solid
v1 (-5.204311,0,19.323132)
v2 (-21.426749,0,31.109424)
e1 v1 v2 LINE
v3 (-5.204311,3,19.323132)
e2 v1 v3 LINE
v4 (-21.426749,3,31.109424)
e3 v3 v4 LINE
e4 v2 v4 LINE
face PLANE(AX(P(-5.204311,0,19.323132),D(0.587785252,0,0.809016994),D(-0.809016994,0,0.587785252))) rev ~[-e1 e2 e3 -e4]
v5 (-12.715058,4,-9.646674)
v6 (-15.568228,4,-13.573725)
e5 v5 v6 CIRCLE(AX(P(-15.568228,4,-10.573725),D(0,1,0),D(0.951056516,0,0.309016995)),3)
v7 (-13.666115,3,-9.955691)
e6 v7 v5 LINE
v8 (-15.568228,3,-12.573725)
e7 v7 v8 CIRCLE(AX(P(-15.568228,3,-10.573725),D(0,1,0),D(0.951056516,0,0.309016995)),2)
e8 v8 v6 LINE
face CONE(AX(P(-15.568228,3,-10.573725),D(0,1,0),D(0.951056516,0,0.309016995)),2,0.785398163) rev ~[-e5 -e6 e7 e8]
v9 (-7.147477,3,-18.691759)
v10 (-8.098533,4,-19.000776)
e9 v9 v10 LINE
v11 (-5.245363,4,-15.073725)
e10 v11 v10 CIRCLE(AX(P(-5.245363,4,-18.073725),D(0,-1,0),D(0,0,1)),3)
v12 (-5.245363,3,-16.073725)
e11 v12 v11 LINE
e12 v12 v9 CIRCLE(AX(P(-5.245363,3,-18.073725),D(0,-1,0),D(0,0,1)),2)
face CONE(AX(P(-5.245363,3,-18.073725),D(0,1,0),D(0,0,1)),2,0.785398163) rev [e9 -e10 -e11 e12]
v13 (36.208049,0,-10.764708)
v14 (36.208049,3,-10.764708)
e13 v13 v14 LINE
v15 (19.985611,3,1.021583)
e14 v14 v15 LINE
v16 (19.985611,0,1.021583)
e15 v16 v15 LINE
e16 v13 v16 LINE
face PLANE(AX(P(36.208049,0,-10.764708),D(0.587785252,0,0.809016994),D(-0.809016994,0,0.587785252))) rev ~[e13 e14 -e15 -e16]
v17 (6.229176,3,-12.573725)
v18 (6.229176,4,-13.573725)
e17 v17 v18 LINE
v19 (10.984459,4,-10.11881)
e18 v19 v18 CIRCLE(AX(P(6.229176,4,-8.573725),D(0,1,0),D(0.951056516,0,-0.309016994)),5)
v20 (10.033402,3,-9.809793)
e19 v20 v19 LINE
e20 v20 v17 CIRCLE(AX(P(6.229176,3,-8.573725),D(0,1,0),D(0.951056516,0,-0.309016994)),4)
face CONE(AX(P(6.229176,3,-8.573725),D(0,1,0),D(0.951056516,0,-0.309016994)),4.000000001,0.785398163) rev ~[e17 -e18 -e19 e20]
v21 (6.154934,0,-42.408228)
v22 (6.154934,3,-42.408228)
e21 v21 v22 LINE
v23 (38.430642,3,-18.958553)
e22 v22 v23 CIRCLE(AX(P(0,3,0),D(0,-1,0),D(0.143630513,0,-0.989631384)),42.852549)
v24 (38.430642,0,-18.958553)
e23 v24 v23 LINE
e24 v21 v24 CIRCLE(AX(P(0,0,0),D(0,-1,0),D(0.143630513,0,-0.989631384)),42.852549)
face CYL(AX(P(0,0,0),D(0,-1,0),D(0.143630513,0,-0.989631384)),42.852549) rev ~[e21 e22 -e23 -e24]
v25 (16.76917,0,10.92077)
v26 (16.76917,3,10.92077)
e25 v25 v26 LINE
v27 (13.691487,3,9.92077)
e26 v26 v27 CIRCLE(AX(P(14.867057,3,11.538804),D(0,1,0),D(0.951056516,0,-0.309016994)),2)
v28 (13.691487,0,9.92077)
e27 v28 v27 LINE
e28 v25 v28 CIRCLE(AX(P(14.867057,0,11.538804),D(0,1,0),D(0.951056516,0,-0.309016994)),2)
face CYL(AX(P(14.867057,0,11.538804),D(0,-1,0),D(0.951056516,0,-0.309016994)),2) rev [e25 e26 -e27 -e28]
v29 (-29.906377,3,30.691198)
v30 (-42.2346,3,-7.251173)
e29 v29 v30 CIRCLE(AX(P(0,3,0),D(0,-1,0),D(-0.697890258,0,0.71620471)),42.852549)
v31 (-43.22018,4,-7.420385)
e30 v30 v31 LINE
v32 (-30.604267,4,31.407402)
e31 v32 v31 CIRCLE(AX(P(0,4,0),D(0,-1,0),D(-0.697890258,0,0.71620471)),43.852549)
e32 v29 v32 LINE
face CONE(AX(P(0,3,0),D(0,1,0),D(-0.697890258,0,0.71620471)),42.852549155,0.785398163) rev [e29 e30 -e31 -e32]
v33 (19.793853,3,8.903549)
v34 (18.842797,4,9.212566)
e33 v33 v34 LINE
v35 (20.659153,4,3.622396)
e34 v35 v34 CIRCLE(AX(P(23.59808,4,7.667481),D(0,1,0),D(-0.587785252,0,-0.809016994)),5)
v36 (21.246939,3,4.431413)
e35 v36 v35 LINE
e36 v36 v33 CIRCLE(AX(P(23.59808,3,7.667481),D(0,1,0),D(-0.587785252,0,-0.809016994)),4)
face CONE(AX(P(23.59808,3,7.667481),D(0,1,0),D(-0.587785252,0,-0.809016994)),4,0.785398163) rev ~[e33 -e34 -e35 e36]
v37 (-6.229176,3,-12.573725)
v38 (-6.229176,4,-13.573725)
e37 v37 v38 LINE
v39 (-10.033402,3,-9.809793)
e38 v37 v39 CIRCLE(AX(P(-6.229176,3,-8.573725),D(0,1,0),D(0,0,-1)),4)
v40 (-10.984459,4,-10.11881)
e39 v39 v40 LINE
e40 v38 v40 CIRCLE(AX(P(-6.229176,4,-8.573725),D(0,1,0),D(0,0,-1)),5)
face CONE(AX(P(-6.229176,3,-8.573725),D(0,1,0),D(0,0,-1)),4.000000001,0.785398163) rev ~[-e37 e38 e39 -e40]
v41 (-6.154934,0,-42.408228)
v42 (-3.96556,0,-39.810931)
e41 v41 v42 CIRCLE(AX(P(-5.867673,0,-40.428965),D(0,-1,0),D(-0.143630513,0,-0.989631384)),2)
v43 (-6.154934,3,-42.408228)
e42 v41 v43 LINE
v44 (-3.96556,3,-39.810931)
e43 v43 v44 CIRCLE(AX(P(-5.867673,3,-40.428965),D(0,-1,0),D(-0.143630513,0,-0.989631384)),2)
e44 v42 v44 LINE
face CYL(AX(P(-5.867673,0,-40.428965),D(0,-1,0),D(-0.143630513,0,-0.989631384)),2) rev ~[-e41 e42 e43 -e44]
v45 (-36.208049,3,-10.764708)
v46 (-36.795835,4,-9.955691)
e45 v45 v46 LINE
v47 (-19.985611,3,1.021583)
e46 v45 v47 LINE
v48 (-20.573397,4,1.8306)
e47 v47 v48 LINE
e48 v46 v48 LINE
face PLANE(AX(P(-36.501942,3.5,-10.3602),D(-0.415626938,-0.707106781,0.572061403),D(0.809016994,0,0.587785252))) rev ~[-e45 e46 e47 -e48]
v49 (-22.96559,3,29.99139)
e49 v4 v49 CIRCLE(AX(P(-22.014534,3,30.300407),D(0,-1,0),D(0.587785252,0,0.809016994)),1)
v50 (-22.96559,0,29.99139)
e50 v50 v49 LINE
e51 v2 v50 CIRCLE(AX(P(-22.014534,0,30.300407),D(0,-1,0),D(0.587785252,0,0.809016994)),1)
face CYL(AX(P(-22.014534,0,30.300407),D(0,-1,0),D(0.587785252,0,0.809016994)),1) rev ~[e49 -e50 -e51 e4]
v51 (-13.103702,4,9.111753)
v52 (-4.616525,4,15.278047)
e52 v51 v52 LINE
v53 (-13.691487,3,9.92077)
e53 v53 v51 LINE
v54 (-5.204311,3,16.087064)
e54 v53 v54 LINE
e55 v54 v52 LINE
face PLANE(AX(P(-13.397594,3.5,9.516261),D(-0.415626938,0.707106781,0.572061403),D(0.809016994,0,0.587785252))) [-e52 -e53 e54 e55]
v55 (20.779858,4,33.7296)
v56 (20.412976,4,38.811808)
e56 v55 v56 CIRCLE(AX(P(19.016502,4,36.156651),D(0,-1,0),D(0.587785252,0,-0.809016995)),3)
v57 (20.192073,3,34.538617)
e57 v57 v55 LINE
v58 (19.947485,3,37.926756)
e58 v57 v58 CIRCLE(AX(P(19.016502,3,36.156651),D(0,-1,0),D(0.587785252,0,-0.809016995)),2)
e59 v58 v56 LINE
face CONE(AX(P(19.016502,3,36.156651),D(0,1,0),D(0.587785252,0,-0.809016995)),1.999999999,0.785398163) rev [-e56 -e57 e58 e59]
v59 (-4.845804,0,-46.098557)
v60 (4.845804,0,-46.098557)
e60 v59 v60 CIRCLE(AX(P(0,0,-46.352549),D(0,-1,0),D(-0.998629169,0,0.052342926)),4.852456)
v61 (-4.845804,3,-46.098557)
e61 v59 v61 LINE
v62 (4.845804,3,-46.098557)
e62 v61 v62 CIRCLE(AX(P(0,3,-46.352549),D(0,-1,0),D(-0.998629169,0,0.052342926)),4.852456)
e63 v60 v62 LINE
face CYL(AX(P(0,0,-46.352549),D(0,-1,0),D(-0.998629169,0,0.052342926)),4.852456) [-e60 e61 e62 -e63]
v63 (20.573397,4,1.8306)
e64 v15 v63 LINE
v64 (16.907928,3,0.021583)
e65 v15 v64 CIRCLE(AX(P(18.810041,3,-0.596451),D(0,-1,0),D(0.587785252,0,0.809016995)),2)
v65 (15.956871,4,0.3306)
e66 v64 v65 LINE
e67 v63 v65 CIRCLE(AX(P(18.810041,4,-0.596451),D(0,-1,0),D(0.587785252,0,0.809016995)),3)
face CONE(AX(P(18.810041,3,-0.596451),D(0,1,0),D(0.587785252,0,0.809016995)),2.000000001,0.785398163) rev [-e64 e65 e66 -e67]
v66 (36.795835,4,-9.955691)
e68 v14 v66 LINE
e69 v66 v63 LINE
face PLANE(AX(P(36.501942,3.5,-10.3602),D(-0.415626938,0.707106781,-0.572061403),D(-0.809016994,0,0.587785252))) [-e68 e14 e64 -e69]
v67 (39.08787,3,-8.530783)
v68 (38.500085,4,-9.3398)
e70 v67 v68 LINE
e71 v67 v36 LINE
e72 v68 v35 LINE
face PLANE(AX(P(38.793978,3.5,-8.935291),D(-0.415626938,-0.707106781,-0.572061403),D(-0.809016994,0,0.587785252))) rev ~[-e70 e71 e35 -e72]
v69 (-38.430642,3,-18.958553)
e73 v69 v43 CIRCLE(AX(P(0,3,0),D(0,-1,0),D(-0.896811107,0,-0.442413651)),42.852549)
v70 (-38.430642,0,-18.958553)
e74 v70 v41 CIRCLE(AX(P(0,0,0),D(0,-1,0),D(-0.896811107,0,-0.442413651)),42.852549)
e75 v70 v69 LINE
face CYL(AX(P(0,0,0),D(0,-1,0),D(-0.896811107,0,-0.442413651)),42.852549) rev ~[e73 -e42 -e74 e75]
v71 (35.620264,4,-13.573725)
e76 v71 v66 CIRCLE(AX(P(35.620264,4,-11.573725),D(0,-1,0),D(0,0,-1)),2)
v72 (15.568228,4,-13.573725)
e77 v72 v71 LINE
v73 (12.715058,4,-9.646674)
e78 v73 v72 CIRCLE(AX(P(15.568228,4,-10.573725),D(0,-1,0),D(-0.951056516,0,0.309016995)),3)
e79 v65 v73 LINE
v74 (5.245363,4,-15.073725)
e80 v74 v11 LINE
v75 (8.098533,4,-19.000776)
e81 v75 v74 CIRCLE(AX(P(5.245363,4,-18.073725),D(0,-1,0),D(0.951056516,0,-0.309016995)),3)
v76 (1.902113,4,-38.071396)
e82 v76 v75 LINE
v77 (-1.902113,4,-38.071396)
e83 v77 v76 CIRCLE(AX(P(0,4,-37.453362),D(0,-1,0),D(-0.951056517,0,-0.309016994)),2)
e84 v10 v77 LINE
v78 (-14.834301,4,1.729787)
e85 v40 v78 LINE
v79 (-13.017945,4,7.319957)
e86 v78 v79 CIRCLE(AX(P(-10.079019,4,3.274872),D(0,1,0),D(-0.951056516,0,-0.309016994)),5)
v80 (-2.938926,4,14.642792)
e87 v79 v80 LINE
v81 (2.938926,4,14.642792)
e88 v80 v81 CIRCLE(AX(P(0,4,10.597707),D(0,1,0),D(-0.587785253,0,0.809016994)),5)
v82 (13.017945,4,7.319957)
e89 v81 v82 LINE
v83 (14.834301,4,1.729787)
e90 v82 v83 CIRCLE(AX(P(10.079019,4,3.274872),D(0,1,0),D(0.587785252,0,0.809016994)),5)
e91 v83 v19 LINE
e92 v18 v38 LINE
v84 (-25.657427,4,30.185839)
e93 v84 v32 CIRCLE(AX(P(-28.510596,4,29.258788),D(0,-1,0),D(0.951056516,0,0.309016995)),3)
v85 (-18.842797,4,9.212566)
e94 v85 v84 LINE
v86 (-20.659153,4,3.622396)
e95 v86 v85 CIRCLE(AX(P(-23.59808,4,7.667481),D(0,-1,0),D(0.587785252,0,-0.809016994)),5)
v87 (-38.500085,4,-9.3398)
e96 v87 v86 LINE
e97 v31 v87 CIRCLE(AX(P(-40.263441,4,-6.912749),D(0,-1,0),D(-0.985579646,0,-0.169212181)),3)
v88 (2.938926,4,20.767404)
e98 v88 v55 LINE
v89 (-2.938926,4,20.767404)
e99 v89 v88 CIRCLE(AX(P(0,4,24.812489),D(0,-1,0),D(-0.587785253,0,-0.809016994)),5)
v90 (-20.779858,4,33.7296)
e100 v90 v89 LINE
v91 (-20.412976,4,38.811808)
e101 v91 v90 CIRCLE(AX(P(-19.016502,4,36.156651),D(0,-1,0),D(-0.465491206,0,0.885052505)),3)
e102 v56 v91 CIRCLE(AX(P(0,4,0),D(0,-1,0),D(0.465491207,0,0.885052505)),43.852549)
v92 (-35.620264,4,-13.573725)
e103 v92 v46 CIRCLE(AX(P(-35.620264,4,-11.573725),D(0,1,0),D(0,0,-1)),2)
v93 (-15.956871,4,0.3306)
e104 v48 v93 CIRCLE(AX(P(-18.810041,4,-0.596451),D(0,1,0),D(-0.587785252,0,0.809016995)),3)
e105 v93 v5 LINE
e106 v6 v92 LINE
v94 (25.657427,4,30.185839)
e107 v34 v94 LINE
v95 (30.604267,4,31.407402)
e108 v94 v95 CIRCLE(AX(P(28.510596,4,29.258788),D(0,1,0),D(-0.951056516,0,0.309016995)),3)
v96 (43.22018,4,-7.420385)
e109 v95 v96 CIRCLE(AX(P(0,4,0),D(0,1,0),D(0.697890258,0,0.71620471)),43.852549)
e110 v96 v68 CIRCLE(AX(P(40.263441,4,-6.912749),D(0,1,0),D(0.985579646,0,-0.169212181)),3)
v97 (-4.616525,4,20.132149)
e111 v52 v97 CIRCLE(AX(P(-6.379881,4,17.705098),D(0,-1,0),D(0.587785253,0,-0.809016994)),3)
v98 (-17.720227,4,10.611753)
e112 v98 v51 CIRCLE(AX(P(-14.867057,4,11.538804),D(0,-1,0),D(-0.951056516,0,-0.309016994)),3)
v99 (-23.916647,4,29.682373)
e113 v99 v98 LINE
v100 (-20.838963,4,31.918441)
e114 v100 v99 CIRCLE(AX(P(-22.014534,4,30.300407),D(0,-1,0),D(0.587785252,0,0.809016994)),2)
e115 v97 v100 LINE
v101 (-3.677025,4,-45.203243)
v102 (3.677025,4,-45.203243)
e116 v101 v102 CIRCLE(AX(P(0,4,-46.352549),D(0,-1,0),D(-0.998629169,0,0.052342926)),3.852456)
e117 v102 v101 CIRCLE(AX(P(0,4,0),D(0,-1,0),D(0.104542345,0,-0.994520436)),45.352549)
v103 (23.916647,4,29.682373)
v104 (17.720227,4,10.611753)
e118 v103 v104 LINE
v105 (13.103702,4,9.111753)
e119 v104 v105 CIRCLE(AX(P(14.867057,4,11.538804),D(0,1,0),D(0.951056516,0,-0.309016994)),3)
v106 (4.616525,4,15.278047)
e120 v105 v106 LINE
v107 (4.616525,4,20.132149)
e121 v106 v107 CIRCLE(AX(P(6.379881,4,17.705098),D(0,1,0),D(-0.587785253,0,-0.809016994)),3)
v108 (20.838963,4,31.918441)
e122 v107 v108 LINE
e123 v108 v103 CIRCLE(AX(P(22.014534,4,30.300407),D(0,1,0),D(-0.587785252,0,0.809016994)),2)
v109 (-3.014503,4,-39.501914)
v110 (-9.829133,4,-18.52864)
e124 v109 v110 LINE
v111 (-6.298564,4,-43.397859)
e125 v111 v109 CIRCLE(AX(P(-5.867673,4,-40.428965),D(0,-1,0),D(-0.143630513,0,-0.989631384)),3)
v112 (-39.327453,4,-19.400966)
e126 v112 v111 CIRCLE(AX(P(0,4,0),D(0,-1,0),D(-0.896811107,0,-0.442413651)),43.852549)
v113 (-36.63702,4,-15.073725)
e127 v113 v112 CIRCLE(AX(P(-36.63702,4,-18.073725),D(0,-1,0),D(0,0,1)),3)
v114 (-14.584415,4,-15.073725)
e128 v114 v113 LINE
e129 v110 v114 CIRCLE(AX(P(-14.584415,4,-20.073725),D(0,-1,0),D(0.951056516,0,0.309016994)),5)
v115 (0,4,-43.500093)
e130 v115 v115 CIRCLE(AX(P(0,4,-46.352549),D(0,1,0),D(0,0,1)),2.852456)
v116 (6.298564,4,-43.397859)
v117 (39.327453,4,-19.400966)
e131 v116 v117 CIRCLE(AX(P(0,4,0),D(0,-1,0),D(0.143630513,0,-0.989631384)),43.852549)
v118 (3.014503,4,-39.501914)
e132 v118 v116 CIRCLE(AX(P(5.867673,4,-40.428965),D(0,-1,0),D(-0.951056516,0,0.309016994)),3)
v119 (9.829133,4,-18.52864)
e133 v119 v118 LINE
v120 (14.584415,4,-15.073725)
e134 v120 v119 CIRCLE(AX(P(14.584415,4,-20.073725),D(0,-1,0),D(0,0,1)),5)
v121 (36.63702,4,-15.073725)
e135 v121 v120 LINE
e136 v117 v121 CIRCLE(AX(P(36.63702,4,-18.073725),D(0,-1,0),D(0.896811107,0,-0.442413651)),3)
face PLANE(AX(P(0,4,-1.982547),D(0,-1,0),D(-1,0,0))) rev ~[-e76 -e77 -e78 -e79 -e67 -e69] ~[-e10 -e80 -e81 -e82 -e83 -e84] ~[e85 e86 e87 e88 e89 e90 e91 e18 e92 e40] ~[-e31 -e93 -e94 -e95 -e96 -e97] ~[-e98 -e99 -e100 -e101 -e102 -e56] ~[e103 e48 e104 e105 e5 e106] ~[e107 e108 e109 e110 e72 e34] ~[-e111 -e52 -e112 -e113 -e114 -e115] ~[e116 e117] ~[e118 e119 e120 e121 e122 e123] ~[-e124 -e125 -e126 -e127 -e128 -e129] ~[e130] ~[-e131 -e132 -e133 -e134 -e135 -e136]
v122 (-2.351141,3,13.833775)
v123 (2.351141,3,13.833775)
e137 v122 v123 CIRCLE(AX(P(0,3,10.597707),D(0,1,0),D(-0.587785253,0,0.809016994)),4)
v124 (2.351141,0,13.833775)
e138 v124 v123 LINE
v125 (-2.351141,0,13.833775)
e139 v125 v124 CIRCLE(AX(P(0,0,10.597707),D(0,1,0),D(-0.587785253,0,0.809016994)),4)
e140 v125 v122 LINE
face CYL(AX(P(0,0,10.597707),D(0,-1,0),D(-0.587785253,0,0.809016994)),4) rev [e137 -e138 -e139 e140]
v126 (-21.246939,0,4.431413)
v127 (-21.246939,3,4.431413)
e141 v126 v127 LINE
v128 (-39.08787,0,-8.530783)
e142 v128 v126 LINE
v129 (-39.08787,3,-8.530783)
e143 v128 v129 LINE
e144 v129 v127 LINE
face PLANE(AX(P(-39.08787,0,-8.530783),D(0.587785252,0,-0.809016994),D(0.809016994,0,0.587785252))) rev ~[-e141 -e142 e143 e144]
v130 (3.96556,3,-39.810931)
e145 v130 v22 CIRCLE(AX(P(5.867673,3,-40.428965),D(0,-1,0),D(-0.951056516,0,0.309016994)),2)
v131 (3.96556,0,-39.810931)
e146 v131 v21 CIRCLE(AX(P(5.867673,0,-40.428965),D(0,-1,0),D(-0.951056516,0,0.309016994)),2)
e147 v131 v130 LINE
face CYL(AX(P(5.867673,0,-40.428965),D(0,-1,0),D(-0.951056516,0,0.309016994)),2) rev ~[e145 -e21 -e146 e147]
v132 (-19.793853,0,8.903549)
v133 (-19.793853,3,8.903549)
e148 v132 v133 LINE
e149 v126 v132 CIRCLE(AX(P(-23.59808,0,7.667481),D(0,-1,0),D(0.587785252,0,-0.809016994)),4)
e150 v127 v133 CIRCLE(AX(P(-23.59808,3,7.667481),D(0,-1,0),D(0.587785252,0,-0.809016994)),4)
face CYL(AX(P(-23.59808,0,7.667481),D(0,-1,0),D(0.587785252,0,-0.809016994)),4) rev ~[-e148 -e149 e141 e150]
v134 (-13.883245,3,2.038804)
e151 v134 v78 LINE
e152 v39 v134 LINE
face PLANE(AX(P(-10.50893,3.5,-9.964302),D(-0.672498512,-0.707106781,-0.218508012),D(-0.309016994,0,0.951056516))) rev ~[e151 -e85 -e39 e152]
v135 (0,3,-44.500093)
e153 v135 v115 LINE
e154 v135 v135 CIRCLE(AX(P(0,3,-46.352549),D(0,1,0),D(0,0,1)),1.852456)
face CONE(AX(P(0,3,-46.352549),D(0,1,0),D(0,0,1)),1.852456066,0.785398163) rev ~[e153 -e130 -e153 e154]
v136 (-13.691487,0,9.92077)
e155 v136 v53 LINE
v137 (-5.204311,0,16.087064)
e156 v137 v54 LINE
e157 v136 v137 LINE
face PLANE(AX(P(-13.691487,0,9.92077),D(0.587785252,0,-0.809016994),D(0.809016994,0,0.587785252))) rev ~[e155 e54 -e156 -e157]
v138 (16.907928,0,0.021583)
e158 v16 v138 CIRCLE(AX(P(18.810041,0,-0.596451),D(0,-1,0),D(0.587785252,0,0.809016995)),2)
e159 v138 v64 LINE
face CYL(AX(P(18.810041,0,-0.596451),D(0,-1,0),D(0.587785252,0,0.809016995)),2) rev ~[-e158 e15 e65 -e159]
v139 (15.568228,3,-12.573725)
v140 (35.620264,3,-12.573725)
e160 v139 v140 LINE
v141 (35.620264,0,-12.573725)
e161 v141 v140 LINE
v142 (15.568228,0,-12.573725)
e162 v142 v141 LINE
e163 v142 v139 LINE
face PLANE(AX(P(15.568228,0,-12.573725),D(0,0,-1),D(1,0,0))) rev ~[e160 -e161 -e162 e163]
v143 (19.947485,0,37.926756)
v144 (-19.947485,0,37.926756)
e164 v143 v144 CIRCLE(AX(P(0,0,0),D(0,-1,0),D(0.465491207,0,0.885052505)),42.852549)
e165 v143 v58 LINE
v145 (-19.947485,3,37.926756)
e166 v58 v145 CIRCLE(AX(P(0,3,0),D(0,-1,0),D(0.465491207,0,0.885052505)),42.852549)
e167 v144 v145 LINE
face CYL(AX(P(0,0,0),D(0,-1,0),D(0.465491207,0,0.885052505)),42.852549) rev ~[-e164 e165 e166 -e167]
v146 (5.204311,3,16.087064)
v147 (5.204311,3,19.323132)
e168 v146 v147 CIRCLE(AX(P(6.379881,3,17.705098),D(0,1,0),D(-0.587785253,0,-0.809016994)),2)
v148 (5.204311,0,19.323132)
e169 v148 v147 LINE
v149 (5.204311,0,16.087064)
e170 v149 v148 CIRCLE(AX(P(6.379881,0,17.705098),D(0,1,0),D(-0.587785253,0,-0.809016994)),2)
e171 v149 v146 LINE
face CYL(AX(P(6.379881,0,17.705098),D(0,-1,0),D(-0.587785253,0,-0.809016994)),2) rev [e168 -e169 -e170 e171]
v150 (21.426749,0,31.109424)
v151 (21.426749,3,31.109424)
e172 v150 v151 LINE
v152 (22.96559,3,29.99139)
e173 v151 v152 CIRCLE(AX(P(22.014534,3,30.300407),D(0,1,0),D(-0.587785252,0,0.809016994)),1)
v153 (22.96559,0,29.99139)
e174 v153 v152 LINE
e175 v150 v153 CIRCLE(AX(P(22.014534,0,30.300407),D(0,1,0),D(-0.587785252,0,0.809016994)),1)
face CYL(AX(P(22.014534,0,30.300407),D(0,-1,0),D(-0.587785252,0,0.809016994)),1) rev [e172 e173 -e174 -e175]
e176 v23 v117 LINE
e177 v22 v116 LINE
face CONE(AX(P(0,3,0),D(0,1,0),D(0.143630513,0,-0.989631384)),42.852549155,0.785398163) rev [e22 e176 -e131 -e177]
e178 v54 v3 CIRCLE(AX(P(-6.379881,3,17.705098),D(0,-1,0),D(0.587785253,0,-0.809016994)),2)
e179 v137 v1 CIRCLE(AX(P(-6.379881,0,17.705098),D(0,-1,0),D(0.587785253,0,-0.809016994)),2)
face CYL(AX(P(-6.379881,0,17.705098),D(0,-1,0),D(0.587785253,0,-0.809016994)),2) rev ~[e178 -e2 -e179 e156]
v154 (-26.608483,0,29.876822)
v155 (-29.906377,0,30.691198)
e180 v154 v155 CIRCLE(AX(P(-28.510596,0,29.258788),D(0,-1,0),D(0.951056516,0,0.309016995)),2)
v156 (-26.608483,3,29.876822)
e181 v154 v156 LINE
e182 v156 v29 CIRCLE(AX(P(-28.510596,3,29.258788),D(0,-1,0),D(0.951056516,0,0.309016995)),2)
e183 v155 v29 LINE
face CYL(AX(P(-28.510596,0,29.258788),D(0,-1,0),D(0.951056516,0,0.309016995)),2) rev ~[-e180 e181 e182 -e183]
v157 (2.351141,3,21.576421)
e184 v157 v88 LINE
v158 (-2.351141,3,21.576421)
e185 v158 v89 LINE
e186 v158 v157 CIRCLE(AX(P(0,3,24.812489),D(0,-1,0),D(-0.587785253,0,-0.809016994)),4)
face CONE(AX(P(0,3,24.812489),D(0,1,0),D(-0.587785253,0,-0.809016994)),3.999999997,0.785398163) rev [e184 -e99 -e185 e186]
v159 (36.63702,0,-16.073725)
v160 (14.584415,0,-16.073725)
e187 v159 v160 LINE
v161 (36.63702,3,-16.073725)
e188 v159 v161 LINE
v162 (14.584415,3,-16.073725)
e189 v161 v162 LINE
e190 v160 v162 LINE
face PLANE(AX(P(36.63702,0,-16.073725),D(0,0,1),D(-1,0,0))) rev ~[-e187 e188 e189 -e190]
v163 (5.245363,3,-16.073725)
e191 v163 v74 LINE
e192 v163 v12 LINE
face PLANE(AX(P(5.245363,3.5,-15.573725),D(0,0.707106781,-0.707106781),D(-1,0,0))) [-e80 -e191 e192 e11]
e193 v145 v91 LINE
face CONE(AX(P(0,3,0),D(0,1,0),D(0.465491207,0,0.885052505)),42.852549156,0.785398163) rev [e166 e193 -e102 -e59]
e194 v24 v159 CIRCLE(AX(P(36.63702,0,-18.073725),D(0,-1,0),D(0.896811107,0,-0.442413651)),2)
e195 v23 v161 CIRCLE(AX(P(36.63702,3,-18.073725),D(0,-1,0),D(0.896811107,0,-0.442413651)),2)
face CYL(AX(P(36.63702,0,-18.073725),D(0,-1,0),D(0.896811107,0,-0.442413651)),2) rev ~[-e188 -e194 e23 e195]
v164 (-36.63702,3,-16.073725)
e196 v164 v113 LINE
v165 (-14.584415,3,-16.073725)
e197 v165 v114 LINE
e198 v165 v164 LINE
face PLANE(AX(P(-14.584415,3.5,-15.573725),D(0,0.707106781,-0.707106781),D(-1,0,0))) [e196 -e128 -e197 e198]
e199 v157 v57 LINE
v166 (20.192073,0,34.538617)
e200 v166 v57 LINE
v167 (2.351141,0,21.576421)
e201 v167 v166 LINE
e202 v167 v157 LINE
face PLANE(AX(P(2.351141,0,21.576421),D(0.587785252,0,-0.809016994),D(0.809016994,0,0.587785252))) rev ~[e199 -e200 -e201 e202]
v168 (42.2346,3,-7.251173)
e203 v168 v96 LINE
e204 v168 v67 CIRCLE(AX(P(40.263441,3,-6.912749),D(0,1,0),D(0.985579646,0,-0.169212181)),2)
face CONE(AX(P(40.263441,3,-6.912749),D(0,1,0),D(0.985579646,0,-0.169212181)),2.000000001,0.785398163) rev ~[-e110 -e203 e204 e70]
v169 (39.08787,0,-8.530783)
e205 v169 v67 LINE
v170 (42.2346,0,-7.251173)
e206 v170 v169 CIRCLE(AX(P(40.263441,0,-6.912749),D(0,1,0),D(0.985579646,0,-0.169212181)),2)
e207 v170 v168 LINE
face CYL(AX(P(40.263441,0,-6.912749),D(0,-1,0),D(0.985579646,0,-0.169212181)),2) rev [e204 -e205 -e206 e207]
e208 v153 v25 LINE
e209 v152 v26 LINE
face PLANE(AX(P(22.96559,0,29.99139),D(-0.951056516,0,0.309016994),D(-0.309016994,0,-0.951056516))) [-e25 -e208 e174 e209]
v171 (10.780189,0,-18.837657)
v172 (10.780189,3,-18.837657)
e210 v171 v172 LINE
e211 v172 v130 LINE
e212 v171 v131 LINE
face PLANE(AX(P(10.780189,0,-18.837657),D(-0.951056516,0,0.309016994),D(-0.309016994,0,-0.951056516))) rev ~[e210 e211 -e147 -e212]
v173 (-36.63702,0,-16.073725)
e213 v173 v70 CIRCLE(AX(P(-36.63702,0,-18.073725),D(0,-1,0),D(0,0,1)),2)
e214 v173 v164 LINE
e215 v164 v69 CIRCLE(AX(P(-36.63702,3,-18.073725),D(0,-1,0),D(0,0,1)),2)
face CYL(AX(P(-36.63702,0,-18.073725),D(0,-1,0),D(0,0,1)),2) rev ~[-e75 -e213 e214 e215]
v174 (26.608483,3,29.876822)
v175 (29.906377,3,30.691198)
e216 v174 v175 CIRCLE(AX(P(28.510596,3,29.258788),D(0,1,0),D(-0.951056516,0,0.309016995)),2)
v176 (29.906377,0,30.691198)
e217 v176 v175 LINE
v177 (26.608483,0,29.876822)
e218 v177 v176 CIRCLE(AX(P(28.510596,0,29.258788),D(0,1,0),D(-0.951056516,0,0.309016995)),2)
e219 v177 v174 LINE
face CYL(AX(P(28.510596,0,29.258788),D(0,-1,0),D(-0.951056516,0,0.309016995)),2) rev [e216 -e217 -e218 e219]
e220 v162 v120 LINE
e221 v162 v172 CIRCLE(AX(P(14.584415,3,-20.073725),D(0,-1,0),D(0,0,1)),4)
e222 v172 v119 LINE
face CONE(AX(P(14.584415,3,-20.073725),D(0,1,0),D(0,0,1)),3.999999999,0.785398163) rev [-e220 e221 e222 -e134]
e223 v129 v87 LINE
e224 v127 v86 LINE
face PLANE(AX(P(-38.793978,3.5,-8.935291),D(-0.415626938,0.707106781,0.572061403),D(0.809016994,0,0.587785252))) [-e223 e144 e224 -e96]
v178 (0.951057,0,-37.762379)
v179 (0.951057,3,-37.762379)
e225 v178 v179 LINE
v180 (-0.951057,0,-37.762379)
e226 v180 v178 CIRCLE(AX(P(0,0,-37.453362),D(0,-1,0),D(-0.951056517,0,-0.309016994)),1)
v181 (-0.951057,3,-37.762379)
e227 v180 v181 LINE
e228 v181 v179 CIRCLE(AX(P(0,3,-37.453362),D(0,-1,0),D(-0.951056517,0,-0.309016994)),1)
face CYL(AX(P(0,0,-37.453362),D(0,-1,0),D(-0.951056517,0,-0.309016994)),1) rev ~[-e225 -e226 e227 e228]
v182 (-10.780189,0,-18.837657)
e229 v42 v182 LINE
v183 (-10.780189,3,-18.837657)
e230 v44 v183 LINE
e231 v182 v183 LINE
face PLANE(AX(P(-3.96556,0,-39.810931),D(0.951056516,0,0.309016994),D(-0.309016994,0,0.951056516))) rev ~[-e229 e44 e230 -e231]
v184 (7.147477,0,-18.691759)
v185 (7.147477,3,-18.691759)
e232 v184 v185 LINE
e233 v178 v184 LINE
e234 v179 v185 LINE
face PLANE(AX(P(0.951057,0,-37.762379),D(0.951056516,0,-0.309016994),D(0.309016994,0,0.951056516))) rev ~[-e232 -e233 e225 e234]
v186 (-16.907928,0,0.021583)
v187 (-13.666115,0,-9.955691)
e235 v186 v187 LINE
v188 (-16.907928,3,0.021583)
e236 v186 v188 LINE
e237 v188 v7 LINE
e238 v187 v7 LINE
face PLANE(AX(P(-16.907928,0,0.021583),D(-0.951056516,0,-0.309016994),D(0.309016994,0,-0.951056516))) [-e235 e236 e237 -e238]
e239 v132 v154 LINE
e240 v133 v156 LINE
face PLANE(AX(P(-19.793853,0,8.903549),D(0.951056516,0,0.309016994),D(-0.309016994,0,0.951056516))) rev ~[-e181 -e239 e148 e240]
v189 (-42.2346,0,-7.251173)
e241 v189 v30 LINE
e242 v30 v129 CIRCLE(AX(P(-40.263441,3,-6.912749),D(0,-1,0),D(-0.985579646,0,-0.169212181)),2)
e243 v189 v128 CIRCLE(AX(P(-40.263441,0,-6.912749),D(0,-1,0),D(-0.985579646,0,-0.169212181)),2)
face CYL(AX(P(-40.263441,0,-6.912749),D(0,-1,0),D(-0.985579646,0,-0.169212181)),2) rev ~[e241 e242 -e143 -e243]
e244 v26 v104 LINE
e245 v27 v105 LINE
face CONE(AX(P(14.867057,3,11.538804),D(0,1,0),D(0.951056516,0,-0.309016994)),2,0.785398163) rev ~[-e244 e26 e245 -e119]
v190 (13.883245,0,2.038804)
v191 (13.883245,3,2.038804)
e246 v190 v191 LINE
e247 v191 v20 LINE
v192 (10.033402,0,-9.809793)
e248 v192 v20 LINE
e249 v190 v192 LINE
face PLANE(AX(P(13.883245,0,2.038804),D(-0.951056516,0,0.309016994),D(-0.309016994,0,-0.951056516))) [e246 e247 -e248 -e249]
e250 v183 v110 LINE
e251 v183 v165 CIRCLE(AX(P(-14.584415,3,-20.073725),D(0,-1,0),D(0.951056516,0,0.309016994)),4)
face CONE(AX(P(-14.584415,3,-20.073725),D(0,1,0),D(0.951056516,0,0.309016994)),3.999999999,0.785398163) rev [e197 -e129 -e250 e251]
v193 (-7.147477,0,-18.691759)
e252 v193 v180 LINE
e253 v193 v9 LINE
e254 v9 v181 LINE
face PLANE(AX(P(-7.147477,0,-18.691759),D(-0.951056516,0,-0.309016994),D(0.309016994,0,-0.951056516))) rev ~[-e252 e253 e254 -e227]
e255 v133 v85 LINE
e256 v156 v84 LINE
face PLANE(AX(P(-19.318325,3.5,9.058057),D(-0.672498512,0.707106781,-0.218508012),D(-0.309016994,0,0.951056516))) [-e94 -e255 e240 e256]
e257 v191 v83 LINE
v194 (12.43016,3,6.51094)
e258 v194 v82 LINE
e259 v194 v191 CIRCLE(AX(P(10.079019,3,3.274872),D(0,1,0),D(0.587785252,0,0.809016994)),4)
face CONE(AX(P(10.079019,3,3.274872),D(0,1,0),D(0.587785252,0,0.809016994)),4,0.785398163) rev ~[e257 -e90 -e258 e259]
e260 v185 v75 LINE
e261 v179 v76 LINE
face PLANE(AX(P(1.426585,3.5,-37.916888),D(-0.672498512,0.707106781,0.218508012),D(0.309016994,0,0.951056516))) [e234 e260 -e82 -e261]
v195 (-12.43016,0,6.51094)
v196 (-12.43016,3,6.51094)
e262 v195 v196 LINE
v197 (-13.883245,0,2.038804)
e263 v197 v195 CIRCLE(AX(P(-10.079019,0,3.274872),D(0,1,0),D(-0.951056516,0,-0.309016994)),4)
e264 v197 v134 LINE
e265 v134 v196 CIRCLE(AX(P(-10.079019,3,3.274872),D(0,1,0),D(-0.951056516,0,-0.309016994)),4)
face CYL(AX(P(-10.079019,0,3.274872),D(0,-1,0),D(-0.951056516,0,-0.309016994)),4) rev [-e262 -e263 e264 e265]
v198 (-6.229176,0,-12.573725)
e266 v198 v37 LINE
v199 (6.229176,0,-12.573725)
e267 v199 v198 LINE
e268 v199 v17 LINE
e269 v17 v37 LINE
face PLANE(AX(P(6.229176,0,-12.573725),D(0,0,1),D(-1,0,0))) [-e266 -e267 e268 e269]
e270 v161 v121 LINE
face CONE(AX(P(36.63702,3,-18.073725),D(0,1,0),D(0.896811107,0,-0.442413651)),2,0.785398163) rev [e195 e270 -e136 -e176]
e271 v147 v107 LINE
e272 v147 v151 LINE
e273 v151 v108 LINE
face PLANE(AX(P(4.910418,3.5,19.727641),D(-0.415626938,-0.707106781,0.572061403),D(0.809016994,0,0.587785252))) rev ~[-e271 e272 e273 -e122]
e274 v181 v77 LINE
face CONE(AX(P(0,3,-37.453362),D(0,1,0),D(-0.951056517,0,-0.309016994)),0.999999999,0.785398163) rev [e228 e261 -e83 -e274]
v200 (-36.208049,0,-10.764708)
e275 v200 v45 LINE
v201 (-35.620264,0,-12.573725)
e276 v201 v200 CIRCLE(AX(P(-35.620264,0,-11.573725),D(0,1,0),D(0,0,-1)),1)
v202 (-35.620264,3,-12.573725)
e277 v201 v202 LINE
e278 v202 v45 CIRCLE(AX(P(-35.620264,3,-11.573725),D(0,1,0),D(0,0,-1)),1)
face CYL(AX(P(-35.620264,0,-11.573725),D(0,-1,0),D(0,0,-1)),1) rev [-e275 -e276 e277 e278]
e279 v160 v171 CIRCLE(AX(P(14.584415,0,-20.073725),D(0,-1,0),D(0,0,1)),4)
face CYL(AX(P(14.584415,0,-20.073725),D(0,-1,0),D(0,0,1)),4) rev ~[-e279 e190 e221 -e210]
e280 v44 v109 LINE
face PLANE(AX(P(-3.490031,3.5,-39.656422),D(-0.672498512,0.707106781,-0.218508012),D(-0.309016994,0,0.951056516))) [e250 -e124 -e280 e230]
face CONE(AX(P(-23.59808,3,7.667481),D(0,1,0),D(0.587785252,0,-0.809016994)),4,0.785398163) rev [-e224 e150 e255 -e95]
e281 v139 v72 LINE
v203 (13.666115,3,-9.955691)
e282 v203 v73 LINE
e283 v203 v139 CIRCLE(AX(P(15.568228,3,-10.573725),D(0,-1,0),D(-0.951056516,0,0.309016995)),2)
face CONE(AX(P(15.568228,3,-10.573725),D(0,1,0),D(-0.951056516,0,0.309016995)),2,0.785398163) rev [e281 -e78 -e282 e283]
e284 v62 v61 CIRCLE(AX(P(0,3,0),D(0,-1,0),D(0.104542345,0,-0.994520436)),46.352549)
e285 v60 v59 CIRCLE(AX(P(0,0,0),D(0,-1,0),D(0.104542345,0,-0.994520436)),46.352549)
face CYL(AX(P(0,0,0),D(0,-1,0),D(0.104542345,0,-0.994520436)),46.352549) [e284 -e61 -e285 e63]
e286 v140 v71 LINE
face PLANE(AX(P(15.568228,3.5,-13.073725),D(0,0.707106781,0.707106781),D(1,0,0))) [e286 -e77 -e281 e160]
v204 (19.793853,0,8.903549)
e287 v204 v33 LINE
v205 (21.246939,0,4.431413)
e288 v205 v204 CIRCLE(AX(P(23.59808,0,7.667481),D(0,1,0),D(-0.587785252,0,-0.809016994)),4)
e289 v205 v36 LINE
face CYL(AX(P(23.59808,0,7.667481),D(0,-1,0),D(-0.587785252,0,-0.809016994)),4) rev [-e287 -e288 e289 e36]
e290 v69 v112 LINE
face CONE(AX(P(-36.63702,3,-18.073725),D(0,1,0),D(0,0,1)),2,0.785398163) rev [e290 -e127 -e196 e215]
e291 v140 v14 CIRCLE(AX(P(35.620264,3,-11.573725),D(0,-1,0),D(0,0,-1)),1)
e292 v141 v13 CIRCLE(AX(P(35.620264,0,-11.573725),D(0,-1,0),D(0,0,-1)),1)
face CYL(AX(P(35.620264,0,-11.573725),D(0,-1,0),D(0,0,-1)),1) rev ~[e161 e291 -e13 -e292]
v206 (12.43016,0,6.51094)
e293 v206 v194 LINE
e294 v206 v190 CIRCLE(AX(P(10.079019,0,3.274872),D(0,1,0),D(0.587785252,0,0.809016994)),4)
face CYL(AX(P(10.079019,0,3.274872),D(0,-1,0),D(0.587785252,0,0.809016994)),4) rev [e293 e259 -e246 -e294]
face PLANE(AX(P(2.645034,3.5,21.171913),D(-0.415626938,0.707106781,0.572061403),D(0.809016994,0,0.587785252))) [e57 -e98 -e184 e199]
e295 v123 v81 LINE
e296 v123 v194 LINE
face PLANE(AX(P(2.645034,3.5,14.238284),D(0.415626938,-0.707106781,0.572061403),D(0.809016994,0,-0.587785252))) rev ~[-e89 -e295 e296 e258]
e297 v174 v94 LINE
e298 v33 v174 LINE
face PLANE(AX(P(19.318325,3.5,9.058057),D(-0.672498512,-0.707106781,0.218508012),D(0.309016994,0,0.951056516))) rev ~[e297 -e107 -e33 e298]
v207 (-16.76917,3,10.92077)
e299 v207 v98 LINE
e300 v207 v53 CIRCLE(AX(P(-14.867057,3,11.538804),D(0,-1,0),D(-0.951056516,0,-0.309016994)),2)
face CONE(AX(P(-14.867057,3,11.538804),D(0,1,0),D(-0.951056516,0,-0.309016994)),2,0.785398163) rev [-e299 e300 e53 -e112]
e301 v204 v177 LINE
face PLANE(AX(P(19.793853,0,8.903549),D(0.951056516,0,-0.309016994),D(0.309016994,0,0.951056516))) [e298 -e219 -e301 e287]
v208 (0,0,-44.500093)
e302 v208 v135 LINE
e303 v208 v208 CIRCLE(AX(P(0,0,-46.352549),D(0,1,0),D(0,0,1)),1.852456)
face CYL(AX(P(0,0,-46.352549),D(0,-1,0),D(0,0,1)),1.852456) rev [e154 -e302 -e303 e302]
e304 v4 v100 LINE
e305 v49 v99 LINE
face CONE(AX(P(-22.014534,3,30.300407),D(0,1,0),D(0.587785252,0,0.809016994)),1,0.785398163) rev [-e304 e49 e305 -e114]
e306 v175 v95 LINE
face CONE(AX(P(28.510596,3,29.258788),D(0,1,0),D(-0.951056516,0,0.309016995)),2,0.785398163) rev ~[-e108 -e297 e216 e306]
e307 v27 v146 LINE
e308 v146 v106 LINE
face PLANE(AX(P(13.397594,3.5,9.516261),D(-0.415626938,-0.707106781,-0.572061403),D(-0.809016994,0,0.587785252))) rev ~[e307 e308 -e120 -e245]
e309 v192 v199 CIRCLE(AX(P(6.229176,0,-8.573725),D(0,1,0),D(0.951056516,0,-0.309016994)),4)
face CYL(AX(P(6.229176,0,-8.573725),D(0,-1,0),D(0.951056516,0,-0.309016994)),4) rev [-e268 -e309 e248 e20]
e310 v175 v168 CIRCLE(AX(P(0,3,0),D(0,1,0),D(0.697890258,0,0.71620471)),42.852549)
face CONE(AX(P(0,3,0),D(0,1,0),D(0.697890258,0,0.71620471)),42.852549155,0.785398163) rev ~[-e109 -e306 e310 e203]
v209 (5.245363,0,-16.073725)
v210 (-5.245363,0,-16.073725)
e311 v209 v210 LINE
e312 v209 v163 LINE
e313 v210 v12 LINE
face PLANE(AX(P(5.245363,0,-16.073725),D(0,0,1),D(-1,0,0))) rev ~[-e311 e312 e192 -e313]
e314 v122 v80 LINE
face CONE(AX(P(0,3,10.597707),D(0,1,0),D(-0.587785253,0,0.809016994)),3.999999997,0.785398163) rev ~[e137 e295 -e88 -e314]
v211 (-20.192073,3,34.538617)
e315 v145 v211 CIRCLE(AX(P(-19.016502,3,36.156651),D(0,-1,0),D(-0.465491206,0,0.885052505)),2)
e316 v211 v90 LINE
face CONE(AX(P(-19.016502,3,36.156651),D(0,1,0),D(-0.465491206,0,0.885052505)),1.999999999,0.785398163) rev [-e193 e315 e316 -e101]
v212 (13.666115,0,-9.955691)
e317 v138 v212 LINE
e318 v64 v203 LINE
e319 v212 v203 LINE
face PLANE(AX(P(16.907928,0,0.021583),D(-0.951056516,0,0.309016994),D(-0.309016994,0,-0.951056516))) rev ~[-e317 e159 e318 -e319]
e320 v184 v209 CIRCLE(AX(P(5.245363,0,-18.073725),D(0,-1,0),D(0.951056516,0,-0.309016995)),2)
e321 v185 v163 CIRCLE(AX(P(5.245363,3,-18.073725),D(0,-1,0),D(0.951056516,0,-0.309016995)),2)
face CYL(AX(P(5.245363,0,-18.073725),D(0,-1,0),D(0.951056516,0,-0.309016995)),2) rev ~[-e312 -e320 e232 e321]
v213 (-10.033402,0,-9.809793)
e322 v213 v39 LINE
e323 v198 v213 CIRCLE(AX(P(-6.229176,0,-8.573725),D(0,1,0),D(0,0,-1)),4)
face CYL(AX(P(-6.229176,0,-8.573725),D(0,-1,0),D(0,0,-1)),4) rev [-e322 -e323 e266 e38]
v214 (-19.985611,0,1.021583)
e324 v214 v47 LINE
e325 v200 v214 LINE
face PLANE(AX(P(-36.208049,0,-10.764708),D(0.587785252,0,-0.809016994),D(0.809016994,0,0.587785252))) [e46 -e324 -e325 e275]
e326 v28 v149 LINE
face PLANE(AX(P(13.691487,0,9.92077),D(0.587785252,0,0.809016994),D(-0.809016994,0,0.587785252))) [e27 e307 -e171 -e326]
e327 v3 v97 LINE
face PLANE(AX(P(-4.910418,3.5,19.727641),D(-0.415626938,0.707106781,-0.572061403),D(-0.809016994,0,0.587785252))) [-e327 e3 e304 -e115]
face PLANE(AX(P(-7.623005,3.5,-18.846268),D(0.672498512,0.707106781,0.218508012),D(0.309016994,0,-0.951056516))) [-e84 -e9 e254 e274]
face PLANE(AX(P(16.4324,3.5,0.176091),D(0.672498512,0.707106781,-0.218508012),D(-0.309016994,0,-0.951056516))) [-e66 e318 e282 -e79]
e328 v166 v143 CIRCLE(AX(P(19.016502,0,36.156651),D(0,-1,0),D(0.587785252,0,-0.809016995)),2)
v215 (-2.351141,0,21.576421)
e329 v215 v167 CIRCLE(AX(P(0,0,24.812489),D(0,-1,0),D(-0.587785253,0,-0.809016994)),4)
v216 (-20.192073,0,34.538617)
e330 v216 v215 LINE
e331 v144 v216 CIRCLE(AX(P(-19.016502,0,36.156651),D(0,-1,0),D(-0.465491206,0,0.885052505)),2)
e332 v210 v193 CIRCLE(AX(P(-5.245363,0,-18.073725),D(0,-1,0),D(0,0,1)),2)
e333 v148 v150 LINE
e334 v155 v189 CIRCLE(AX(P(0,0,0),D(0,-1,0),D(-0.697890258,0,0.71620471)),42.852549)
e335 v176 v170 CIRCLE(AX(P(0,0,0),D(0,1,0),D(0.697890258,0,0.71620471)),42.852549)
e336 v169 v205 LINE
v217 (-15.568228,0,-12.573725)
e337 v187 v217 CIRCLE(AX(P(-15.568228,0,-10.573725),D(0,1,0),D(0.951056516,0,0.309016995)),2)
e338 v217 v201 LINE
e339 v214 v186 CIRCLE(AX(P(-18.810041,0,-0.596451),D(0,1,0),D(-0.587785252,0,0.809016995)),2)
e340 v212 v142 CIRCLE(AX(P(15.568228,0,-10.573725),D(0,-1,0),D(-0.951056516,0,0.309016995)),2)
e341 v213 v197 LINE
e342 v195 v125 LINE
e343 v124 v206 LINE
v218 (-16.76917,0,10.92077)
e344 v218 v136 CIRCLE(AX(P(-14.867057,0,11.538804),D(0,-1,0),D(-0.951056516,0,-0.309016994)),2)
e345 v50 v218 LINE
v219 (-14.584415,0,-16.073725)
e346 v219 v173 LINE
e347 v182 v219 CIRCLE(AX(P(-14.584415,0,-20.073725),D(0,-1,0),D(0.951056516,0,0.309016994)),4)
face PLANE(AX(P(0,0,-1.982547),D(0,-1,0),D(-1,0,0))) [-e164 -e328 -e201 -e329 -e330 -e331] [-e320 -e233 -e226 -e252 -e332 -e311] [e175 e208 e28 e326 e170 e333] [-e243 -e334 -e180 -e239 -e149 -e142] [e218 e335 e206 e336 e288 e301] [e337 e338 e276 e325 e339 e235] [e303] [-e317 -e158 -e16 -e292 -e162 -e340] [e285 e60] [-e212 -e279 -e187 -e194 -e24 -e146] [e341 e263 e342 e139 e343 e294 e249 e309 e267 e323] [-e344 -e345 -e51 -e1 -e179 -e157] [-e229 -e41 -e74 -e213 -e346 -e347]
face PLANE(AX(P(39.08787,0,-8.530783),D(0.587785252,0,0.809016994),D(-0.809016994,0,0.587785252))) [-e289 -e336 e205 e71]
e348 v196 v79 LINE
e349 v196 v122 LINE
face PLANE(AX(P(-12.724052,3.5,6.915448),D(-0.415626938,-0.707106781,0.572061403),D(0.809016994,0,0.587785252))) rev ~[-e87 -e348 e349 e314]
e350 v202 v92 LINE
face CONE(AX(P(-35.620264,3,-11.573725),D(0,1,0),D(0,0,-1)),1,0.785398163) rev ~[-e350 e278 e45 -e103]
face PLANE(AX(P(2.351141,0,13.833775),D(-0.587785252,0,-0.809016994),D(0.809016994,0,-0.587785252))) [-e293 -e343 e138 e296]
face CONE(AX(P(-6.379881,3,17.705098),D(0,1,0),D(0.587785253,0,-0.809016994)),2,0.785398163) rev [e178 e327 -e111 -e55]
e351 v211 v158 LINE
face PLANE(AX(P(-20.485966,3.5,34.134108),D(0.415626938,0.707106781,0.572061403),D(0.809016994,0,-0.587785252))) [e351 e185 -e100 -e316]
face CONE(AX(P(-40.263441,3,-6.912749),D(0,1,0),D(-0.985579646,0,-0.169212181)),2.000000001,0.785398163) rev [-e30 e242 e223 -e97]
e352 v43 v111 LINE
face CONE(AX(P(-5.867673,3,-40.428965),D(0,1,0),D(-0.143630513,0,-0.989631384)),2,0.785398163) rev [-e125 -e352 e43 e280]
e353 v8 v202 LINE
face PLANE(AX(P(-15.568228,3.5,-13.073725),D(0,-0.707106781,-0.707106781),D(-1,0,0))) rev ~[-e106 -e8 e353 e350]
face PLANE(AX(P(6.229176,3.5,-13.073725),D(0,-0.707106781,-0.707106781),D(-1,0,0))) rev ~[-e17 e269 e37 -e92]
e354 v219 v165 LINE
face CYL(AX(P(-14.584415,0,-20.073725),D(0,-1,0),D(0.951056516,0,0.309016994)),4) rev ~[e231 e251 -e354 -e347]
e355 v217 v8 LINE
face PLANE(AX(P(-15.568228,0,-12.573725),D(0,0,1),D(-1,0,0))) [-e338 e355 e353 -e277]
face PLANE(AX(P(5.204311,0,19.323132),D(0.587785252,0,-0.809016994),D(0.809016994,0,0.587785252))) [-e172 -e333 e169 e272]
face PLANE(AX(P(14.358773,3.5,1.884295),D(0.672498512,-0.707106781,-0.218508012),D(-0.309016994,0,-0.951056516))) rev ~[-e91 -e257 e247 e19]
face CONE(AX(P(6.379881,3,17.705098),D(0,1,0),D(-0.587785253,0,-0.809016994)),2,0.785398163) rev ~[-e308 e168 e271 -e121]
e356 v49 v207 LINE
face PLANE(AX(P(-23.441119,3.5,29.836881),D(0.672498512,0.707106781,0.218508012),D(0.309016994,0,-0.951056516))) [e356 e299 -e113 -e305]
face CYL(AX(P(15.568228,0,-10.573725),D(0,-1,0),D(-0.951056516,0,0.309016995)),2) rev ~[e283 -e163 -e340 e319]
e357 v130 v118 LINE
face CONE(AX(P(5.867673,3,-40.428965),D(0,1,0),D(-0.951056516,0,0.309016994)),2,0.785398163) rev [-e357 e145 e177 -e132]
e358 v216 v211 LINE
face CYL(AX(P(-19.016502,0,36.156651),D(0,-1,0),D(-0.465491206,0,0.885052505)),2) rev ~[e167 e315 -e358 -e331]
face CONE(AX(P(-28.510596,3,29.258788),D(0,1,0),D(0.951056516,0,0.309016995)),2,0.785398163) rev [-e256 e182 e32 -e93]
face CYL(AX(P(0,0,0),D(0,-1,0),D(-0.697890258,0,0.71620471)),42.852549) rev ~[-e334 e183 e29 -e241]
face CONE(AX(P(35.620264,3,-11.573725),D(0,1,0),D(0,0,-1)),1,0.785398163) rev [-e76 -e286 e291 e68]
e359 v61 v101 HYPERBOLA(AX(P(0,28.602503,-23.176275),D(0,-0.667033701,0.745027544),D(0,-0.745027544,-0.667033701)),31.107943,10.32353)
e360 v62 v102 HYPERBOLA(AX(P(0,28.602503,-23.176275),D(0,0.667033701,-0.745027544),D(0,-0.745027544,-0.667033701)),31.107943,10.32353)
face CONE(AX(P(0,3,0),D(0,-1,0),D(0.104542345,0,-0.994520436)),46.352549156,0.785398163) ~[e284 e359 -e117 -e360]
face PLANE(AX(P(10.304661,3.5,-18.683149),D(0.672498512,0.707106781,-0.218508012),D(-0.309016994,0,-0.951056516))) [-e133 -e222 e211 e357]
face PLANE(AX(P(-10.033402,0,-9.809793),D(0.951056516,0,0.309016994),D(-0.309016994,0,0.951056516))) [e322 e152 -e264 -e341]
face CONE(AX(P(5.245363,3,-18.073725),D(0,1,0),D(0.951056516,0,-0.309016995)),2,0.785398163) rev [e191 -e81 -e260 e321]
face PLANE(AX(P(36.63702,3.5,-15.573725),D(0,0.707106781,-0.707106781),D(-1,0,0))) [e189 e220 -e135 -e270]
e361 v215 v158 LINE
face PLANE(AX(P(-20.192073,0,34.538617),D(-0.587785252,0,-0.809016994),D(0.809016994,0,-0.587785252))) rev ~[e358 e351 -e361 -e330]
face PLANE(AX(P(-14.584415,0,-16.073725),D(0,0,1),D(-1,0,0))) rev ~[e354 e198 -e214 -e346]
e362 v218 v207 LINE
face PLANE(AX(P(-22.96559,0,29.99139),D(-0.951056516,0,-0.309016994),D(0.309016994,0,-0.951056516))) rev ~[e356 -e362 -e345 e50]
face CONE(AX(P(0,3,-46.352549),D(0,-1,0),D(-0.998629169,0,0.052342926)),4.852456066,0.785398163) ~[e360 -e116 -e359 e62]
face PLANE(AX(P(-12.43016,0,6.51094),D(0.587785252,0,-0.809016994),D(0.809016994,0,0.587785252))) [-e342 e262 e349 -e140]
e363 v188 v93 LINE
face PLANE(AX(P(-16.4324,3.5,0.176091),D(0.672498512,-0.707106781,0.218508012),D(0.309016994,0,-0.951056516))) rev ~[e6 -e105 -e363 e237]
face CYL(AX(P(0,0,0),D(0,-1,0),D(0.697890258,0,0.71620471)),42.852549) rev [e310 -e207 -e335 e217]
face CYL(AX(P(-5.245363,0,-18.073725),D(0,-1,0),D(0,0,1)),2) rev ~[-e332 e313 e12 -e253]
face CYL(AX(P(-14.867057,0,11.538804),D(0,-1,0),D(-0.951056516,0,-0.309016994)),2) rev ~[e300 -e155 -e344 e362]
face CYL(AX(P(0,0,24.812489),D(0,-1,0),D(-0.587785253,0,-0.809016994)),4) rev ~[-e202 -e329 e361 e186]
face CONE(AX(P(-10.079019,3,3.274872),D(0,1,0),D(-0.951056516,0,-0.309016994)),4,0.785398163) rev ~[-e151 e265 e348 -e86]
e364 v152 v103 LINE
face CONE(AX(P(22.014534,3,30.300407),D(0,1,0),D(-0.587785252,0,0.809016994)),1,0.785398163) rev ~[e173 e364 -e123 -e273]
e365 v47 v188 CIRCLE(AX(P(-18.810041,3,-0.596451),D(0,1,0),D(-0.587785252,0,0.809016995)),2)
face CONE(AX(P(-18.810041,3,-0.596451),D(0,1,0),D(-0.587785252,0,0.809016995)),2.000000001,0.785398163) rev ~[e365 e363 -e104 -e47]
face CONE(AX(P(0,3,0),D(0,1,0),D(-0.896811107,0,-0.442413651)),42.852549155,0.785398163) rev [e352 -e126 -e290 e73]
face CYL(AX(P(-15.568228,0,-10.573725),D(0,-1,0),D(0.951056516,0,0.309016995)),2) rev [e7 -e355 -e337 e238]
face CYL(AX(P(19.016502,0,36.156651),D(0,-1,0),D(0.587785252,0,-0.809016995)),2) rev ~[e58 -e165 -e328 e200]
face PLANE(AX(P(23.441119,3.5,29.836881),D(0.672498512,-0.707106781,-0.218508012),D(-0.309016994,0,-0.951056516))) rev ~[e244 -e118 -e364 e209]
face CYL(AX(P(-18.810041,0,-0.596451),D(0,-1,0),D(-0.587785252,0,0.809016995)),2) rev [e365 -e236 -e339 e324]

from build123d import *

# Parameters (mm, degrees)
SKETCH1_R           = 1.852456066
BOSS_EXTRUDE1_DEPTH = 4
CHAMFER1_SIZE       = 1


with BuildPart() as part:
    # Sketch1 → Boss-Extrude1 (new body)
    with BuildSketch(Plane(origin=(0, 0, 0), x_dir=(1, 0, 0), z_dir=(0, 1, 0))):
        with BuildLine():
            ThreePointArc((-4.845804171, 46.098557409), (0, 51.205005222), (4.845804171, 46.098557409))
            ThreePointArc((4.845804171, 46.098557409), (0, -46.352549156), (-4.845804171, 46.098557409))
        make_face()
        with Locations(Location((0, 46.352549156, 0), (0, 0, 270))):  # turned: the seam where the file's is
            Circle(SKETCH1_R, mode=Mode.SUBTRACT)
        with BuildLine():
            Line((-10.033402208, 9.809793399), (-13.883244786, -2.038803723))
            ThreePointArc((-13.883244786, -2.038803723), (-13.883244786, -4.510939678), (-12.43015973, -6.510939678))
            Line((-12.43015973, -6.510939678), (-2.351141009, -13.833775419))
            ThreePointArc((-2.351141009, -13.833775419), (0, -14.597707442), (2.351141009, -13.833775419))
            Line((2.351141009, -13.833775419), (12.43015973, -6.510939678))
            ThreePointArc((12.43015973, -6.510939678), (13.883244786, -4.510939678), (13.883244786, -2.038803723))
            Line((13.883244786, -2.038803723), (10.033402208, 9.809793399))
            ThreePointArc((10.033402208, 9.809793399), (8.580317152, 11.809793399), (6.229176142, 12.573725422))
            Line((6.229176142, 12.573725422), (-6.229176142, 12.573725422))
            ThreePointArc((-6.229176142, 12.573725422), (-8.580317152, 11.809793399), (-10.033402208, 9.809793399))
        make_face(mode=Mode.SUBTRACT)
        with BuildLine():
            Line((39.087870417, 8.530782914), (21.246938514, -4.431412853))
            ThreePointArc((21.246938514, -4.431412853), (19.793853458, -6.431412853), (19.793853458, -8.903548808))
            Line((19.793853458, -8.903548808), (26.608483054, -29.876822128))
            ThreePointArc((26.608483054, -29.876822128), (28.031122427, -31.200463964), (29.906376603, -30.69119756))
            ThreePointArc((29.906376603, -30.69119756), (40.755196115, -13.242165942), (42.234600213, 7.251173287))
            ThreePointArc((42.234600213, 7.251173287), (41.016826997, 8.765425211), (39.087870417, 8.530782914))
        make_face(mode=Mode.SUBTRACT)
        with BuildLine():
            Line((36.637019829, 16.073725422), (14.584415214, 16.073725422))
            ThreePointArc((14.584415214, 16.073725422), (12.233274205, 16.837657444), (10.780189149, 18.837657444))
            Line((10.780189149, 18.837657444), (3.965559553, 39.810930764))
            ThreePointArc((3.965559553, 39.810930764), (4.338481832, 41.717985947), (6.154933612, 42.40822752))
            ThreePointArc((6.154933612, 42.40822752), (25.188096417, 34.66844052), (38.430642043, 18.958552724))
            ThreePointArc((38.430642043, 18.958552724), (38.335497766, 17.017708046), (36.637019829, 16.073725422))
        make_face(mode=Mode.SUBTRACT)
        with BuildLine():
            Line((-3.965559553, 39.810930764), (-10.780189149, 18.837657444))
            ThreePointArc((-10.780189149, 18.837657444), (-12.233274205, 16.837657444), (-14.584415214, 16.073725422))
            Line((-14.584415214, 16.073725422), (-36.637019829, 16.073725422))
            ThreePointArc((-36.637019829, 16.073725422), (-38.335497766, 17.017708046), (-38.430642043, 18.958552724))
            ThreePointArc((-38.430642043, 18.958552724), (-25.188096417, 34.66844052), (-6.154933612, 42.40822752))
            ThreePointArc((-6.154933612, 42.40822752), (-4.338481832, 41.717985947), (-3.965559553, 39.810930764))
        make_face(mode=Mode.SUBTRACT)
        with BuildLine():
            Line((-39.087870417, 8.530782914), (-21.246938514, -4.431412853))
            ThreePointArc((-21.246938514, -4.431412853), (-19.793853458, -6.431412853), (-19.793853458, -8.903548808))
            Line((-19.793853458, -8.903548808), (-26.608483054, -29.876822128))
            ThreePointArc((-26.608483054, -29.876822128), (-28.031122427, -31.200463964), (-29.906376603, -30.69119756))
            ThreePointArc((-29.906376603, -30.69119756), (-40.755196115, -13.242165942), (-42.234600213, 7.251173287))
            ThreePointArc((-42.234600213, 7.251173287), (-41.016826997, 8.765425211), (-39.087870417, 8.530782914))
        make_face(mode=Mode.SUBTRACT)
        with BuildLine():
            Line((-20.192072912, -34.538616973), (-2.351141009, -21.576421206))
            ThreePointArc((-2.351141009, -21.576421206), (0, -20.812489183), (2.351141009, -21.576421206))
            Line((2.351141009, -21.576421206), (20.192072912, -34.538616973))
            ThreePointArc((20.192072912, -34.538616973), (21.011311363, -36.30065524), (19.947484821, -37.926755971))
            ThreePointArc((19.947484821, -37.926755971), (0, -42.852549156), (-19.947484821, -37.926755971))
            ThreePointArc((-19.947484821, -37.926755971), (-21.011311363, -36.30065524), (-20.192072912, -34.538616973))
        make_face(mode=Mode.SUBTRACT)
        with BuildLine():
            Line((-15.56822788, 12.573725422), (-35.620264195, 12.573725422))
            ThreePointArc((-35.620264195, 12.573725422), (-36.571320711, 11.882742416), (-36.208049447, 10.764708428))
            Line((-36.208049447, 10.764708428), (-19.985611297, -1.021582797))
            ThreePointArc((-19.985611297, -1.021582797), (-18.192006803, -1.30566184), (-16.90792776, -0.021582797))
            Line((-16.90792776, -0.021582797), (-13.666114848, 9.955691433))
            ThreePointArc((-13.666114848, 9.955691433), (-13.950193891, 11.749295926), (-15.56822788, 12.573725422))
        make_face(mode=Mode.SUBTRACT)
        with BuildLine():
            Line((-7.147476509, 18.691759411), (-0.951056516, 37.762379212))
            ThreePointArc((-0.951056516, 37.762379212), (0, 38.453362218), (0.951056516, 37.762379212))
            Line((0.951056516, 37.762379212), (7.147476509, 18.691759411))
            ThreePointArc((7.147476509, 18.691759411), (6.863397465, 16.898154917), (5.245363477, 16.073725422))
            Line((5.245363477, 16.073725422), (-5.245363477, 16.073725422))
            ThreePointArc((-5.245363477, 16.073725422), (-6.863397465, 16.898154917), (-7.147476509, 18.691759411))
        make_face(mode=Mode.SUBTRACT)
        with BuildLine():
            Line((15.56822788, 12.573725422), (35.620264195, 12.573725422))
            ThreePointArc((35.620264195, 12.573725422), (36.571320711, 11.882742416), (36.208049447, 10.764708428))
            Line((36.208049447, 10.764708428), (19.985611297, -1.021582797))
            ThreePointArc((19.985611297, -1.021582797), (18.192006803, -1.30566184), (16.90792776, -0.021582797))
            Line((16.90792776, -0.021582797), (13.666114848, 9.955691433))
            ThreePointArc((13.666114848, 9.955691433), (13.950193891, 11.749295926), (15.56822788, 12.573725422))
        make_face(mode=Mode.SUBTRACT)
        with BuildLine():
            Line((22.965590477, -29.991389537), (16.769170484, -10.920769735))
            ThreePointArc((16.769170484, -10.920769735), (15.48509144, -9.636690691), (13.691486947, -9.920769735))
            Line((13.691486947, -9.920769735), (5.204310558, -16.087064324))
            ThreePointArc((5.204310558, -16.087064324), (4.379881063, -17.705098312), (5.204310558, -19.323132301))
            Line((5.204310558, -19.323132301), (21.426748708, -31.109423525))
            ThreePointArc((21.426748708, -31.109423525), (22.602319213, -31.109423525), (22.965590477, -29.991389537))
        make_face(mode=Mode.SUBTRACT)
        with BuildLine():
            Line((-22.965590477, -29.991389537), (-16.769170484, -10.920769735))
            ThreePointArc((-16.769170484, -10.920769735), (-15.48509144, -9.636690691), (-13.691486947, -9.920769735))
            Line((-13.691486947, -9.920769735), (-5.204310558, -16.087064324))
            ThreePointArc((-5.204310558, -16.087064324), (-4.379881063, -17.705098312), (-5.204310558, -19.323132301))
            Line((-5.204310558, -19.323132301), (-21.426748708, -31.109423525))
            ThreePointArc((-21.426748708, -31.109423525), (-22.602319213, -31.109423525), (-22.965590477, -29.991389537))
        make_face(mode=Mode.SUBTRACT)
    extrude(amount=BOSS_EXTRUDE1_DEPTH)

    # Chamfer1
    chamfer1_edges = [part.edges().sort_by_distance(p)[0] for p in [
        (21.011311363, 4, 36.30065524),
        (11.271606961, 4, 28.057519089),
        (-19.793853458, 4, 6.431412853),
        (-30.167404466, 4, -2.049685031),
        (-41.016826997, 4, -8.765425211),
        (-40.755196115, 4, 13.242165942),
        (-28.031122427, 4, 31.200463964),
        (-23.201168256, 4, 19.390185468),
        (-18.192006803, 4, 1.30566184),
        (-15.287021304, 4, -4.967054318),
        (-13.950193891, 4, -11.749295926),
        (-25.594246037, 4, -12.573725422),
        (-36.571320711, 4, -11.882742416),
        (-28.096830372, 4, -4.871562815),
        (-6.863397465, 4, -16.898154917),
        (0, 4, -16.073725422),
        (6.863397465, 4, -16.898154917),
        (4.049266513, 4, -28.227069312),
        (0, 4, -38.453362218),
        (-4.049266513, 4, -28.227069312),
        (13.950193891, 4, -11.749295926),
        (15.287021304, 4, -4.967054318),
        (18.192006803, 4, 1.30566184),
        (28.096830372, 4, -4.871562815),
        (36.571320711, 4, -11.882742416),
        (25.594246037, 4, -12.573725422),
        (15.48509144, 4, 9.636690691),
        (9.447898752, 4, 13.003917029),
        (4.379881063, 4, 17.705098312),
        (13.315529633, 4, 25.216277913),
        (-13.883244786, 4, 4.510939678),
        (22.602319213, 4, 31.109423525),
        (19.86738048, 4, 20.456079636),
        (-7.390650369, 4, 10.172357549),
        (0, 4, 14.597707442),
        (7.390650369, 4, 10.172357549),
        (13.883244786, 4, 4.510939678),
        (11.958323497, 4, -3.885494838),
        (-4.379881063, 4, 17.705098312),
        (-9.447898752, 4, 13.003917029),
        (-15.48509144, 4, 9.636690691),
        (8.580317152, 4, -11.809793399),
        (-19.86738048, 4, 20.456079636),
        (-22.602319213, 4, 31.109423525),
        (-13.315529633, 4, 25.216277913),
        (0, 4, -12.573725422),
        (-8.580317152, 4, -11.809793399),
        (-11.958323497, 4, -3.885494838),
        (0, 4, -48.205005222),
        (0, 4, 46.352549156),
        (-12.233274205, 4, -16.837657444),
        (-7.372874351, 4, -29.324294104),
        (-4.338481832, 4, -41.717985947),
        (-25.188096417, 4, -34.66844052),
        (-38.335497766, 4, -17.017708046),
        (-25.610717522, 4, -16.073725422),
        (12.233274205, 4, -16.837657444),
        (25.610717522, 4, -16.073725422),
        (38.335497766, 4, -17.017708046),
        (25.188096417, 4, -34.66844052),
        (4.338481832, 4, -41.717985947),
        (7.372874351, 4, -29.324294104),
        (0, 4, -51.205005222),
        (19.793853458, 4, 6.431412853),
        (23.201168256, 4, 19.390185468),
        (28.031122427, 4, 31.200463964),
        (40.755196115, 4, 13.242165942),
        (41.016826997, 4, -8.765425211),
        (30.167404466, 4, -2.049685031),
        (0, 4, 20.812489183),
        (-11.271606961, 4, 28.057519089),
        (-21.011311363, 4, 36.30065524),
        (0, 4, 42.852549156),
    ]]
    chamfer(chamfer1_edges, length=CHAMFER1_SIZE)


solid = part.part
